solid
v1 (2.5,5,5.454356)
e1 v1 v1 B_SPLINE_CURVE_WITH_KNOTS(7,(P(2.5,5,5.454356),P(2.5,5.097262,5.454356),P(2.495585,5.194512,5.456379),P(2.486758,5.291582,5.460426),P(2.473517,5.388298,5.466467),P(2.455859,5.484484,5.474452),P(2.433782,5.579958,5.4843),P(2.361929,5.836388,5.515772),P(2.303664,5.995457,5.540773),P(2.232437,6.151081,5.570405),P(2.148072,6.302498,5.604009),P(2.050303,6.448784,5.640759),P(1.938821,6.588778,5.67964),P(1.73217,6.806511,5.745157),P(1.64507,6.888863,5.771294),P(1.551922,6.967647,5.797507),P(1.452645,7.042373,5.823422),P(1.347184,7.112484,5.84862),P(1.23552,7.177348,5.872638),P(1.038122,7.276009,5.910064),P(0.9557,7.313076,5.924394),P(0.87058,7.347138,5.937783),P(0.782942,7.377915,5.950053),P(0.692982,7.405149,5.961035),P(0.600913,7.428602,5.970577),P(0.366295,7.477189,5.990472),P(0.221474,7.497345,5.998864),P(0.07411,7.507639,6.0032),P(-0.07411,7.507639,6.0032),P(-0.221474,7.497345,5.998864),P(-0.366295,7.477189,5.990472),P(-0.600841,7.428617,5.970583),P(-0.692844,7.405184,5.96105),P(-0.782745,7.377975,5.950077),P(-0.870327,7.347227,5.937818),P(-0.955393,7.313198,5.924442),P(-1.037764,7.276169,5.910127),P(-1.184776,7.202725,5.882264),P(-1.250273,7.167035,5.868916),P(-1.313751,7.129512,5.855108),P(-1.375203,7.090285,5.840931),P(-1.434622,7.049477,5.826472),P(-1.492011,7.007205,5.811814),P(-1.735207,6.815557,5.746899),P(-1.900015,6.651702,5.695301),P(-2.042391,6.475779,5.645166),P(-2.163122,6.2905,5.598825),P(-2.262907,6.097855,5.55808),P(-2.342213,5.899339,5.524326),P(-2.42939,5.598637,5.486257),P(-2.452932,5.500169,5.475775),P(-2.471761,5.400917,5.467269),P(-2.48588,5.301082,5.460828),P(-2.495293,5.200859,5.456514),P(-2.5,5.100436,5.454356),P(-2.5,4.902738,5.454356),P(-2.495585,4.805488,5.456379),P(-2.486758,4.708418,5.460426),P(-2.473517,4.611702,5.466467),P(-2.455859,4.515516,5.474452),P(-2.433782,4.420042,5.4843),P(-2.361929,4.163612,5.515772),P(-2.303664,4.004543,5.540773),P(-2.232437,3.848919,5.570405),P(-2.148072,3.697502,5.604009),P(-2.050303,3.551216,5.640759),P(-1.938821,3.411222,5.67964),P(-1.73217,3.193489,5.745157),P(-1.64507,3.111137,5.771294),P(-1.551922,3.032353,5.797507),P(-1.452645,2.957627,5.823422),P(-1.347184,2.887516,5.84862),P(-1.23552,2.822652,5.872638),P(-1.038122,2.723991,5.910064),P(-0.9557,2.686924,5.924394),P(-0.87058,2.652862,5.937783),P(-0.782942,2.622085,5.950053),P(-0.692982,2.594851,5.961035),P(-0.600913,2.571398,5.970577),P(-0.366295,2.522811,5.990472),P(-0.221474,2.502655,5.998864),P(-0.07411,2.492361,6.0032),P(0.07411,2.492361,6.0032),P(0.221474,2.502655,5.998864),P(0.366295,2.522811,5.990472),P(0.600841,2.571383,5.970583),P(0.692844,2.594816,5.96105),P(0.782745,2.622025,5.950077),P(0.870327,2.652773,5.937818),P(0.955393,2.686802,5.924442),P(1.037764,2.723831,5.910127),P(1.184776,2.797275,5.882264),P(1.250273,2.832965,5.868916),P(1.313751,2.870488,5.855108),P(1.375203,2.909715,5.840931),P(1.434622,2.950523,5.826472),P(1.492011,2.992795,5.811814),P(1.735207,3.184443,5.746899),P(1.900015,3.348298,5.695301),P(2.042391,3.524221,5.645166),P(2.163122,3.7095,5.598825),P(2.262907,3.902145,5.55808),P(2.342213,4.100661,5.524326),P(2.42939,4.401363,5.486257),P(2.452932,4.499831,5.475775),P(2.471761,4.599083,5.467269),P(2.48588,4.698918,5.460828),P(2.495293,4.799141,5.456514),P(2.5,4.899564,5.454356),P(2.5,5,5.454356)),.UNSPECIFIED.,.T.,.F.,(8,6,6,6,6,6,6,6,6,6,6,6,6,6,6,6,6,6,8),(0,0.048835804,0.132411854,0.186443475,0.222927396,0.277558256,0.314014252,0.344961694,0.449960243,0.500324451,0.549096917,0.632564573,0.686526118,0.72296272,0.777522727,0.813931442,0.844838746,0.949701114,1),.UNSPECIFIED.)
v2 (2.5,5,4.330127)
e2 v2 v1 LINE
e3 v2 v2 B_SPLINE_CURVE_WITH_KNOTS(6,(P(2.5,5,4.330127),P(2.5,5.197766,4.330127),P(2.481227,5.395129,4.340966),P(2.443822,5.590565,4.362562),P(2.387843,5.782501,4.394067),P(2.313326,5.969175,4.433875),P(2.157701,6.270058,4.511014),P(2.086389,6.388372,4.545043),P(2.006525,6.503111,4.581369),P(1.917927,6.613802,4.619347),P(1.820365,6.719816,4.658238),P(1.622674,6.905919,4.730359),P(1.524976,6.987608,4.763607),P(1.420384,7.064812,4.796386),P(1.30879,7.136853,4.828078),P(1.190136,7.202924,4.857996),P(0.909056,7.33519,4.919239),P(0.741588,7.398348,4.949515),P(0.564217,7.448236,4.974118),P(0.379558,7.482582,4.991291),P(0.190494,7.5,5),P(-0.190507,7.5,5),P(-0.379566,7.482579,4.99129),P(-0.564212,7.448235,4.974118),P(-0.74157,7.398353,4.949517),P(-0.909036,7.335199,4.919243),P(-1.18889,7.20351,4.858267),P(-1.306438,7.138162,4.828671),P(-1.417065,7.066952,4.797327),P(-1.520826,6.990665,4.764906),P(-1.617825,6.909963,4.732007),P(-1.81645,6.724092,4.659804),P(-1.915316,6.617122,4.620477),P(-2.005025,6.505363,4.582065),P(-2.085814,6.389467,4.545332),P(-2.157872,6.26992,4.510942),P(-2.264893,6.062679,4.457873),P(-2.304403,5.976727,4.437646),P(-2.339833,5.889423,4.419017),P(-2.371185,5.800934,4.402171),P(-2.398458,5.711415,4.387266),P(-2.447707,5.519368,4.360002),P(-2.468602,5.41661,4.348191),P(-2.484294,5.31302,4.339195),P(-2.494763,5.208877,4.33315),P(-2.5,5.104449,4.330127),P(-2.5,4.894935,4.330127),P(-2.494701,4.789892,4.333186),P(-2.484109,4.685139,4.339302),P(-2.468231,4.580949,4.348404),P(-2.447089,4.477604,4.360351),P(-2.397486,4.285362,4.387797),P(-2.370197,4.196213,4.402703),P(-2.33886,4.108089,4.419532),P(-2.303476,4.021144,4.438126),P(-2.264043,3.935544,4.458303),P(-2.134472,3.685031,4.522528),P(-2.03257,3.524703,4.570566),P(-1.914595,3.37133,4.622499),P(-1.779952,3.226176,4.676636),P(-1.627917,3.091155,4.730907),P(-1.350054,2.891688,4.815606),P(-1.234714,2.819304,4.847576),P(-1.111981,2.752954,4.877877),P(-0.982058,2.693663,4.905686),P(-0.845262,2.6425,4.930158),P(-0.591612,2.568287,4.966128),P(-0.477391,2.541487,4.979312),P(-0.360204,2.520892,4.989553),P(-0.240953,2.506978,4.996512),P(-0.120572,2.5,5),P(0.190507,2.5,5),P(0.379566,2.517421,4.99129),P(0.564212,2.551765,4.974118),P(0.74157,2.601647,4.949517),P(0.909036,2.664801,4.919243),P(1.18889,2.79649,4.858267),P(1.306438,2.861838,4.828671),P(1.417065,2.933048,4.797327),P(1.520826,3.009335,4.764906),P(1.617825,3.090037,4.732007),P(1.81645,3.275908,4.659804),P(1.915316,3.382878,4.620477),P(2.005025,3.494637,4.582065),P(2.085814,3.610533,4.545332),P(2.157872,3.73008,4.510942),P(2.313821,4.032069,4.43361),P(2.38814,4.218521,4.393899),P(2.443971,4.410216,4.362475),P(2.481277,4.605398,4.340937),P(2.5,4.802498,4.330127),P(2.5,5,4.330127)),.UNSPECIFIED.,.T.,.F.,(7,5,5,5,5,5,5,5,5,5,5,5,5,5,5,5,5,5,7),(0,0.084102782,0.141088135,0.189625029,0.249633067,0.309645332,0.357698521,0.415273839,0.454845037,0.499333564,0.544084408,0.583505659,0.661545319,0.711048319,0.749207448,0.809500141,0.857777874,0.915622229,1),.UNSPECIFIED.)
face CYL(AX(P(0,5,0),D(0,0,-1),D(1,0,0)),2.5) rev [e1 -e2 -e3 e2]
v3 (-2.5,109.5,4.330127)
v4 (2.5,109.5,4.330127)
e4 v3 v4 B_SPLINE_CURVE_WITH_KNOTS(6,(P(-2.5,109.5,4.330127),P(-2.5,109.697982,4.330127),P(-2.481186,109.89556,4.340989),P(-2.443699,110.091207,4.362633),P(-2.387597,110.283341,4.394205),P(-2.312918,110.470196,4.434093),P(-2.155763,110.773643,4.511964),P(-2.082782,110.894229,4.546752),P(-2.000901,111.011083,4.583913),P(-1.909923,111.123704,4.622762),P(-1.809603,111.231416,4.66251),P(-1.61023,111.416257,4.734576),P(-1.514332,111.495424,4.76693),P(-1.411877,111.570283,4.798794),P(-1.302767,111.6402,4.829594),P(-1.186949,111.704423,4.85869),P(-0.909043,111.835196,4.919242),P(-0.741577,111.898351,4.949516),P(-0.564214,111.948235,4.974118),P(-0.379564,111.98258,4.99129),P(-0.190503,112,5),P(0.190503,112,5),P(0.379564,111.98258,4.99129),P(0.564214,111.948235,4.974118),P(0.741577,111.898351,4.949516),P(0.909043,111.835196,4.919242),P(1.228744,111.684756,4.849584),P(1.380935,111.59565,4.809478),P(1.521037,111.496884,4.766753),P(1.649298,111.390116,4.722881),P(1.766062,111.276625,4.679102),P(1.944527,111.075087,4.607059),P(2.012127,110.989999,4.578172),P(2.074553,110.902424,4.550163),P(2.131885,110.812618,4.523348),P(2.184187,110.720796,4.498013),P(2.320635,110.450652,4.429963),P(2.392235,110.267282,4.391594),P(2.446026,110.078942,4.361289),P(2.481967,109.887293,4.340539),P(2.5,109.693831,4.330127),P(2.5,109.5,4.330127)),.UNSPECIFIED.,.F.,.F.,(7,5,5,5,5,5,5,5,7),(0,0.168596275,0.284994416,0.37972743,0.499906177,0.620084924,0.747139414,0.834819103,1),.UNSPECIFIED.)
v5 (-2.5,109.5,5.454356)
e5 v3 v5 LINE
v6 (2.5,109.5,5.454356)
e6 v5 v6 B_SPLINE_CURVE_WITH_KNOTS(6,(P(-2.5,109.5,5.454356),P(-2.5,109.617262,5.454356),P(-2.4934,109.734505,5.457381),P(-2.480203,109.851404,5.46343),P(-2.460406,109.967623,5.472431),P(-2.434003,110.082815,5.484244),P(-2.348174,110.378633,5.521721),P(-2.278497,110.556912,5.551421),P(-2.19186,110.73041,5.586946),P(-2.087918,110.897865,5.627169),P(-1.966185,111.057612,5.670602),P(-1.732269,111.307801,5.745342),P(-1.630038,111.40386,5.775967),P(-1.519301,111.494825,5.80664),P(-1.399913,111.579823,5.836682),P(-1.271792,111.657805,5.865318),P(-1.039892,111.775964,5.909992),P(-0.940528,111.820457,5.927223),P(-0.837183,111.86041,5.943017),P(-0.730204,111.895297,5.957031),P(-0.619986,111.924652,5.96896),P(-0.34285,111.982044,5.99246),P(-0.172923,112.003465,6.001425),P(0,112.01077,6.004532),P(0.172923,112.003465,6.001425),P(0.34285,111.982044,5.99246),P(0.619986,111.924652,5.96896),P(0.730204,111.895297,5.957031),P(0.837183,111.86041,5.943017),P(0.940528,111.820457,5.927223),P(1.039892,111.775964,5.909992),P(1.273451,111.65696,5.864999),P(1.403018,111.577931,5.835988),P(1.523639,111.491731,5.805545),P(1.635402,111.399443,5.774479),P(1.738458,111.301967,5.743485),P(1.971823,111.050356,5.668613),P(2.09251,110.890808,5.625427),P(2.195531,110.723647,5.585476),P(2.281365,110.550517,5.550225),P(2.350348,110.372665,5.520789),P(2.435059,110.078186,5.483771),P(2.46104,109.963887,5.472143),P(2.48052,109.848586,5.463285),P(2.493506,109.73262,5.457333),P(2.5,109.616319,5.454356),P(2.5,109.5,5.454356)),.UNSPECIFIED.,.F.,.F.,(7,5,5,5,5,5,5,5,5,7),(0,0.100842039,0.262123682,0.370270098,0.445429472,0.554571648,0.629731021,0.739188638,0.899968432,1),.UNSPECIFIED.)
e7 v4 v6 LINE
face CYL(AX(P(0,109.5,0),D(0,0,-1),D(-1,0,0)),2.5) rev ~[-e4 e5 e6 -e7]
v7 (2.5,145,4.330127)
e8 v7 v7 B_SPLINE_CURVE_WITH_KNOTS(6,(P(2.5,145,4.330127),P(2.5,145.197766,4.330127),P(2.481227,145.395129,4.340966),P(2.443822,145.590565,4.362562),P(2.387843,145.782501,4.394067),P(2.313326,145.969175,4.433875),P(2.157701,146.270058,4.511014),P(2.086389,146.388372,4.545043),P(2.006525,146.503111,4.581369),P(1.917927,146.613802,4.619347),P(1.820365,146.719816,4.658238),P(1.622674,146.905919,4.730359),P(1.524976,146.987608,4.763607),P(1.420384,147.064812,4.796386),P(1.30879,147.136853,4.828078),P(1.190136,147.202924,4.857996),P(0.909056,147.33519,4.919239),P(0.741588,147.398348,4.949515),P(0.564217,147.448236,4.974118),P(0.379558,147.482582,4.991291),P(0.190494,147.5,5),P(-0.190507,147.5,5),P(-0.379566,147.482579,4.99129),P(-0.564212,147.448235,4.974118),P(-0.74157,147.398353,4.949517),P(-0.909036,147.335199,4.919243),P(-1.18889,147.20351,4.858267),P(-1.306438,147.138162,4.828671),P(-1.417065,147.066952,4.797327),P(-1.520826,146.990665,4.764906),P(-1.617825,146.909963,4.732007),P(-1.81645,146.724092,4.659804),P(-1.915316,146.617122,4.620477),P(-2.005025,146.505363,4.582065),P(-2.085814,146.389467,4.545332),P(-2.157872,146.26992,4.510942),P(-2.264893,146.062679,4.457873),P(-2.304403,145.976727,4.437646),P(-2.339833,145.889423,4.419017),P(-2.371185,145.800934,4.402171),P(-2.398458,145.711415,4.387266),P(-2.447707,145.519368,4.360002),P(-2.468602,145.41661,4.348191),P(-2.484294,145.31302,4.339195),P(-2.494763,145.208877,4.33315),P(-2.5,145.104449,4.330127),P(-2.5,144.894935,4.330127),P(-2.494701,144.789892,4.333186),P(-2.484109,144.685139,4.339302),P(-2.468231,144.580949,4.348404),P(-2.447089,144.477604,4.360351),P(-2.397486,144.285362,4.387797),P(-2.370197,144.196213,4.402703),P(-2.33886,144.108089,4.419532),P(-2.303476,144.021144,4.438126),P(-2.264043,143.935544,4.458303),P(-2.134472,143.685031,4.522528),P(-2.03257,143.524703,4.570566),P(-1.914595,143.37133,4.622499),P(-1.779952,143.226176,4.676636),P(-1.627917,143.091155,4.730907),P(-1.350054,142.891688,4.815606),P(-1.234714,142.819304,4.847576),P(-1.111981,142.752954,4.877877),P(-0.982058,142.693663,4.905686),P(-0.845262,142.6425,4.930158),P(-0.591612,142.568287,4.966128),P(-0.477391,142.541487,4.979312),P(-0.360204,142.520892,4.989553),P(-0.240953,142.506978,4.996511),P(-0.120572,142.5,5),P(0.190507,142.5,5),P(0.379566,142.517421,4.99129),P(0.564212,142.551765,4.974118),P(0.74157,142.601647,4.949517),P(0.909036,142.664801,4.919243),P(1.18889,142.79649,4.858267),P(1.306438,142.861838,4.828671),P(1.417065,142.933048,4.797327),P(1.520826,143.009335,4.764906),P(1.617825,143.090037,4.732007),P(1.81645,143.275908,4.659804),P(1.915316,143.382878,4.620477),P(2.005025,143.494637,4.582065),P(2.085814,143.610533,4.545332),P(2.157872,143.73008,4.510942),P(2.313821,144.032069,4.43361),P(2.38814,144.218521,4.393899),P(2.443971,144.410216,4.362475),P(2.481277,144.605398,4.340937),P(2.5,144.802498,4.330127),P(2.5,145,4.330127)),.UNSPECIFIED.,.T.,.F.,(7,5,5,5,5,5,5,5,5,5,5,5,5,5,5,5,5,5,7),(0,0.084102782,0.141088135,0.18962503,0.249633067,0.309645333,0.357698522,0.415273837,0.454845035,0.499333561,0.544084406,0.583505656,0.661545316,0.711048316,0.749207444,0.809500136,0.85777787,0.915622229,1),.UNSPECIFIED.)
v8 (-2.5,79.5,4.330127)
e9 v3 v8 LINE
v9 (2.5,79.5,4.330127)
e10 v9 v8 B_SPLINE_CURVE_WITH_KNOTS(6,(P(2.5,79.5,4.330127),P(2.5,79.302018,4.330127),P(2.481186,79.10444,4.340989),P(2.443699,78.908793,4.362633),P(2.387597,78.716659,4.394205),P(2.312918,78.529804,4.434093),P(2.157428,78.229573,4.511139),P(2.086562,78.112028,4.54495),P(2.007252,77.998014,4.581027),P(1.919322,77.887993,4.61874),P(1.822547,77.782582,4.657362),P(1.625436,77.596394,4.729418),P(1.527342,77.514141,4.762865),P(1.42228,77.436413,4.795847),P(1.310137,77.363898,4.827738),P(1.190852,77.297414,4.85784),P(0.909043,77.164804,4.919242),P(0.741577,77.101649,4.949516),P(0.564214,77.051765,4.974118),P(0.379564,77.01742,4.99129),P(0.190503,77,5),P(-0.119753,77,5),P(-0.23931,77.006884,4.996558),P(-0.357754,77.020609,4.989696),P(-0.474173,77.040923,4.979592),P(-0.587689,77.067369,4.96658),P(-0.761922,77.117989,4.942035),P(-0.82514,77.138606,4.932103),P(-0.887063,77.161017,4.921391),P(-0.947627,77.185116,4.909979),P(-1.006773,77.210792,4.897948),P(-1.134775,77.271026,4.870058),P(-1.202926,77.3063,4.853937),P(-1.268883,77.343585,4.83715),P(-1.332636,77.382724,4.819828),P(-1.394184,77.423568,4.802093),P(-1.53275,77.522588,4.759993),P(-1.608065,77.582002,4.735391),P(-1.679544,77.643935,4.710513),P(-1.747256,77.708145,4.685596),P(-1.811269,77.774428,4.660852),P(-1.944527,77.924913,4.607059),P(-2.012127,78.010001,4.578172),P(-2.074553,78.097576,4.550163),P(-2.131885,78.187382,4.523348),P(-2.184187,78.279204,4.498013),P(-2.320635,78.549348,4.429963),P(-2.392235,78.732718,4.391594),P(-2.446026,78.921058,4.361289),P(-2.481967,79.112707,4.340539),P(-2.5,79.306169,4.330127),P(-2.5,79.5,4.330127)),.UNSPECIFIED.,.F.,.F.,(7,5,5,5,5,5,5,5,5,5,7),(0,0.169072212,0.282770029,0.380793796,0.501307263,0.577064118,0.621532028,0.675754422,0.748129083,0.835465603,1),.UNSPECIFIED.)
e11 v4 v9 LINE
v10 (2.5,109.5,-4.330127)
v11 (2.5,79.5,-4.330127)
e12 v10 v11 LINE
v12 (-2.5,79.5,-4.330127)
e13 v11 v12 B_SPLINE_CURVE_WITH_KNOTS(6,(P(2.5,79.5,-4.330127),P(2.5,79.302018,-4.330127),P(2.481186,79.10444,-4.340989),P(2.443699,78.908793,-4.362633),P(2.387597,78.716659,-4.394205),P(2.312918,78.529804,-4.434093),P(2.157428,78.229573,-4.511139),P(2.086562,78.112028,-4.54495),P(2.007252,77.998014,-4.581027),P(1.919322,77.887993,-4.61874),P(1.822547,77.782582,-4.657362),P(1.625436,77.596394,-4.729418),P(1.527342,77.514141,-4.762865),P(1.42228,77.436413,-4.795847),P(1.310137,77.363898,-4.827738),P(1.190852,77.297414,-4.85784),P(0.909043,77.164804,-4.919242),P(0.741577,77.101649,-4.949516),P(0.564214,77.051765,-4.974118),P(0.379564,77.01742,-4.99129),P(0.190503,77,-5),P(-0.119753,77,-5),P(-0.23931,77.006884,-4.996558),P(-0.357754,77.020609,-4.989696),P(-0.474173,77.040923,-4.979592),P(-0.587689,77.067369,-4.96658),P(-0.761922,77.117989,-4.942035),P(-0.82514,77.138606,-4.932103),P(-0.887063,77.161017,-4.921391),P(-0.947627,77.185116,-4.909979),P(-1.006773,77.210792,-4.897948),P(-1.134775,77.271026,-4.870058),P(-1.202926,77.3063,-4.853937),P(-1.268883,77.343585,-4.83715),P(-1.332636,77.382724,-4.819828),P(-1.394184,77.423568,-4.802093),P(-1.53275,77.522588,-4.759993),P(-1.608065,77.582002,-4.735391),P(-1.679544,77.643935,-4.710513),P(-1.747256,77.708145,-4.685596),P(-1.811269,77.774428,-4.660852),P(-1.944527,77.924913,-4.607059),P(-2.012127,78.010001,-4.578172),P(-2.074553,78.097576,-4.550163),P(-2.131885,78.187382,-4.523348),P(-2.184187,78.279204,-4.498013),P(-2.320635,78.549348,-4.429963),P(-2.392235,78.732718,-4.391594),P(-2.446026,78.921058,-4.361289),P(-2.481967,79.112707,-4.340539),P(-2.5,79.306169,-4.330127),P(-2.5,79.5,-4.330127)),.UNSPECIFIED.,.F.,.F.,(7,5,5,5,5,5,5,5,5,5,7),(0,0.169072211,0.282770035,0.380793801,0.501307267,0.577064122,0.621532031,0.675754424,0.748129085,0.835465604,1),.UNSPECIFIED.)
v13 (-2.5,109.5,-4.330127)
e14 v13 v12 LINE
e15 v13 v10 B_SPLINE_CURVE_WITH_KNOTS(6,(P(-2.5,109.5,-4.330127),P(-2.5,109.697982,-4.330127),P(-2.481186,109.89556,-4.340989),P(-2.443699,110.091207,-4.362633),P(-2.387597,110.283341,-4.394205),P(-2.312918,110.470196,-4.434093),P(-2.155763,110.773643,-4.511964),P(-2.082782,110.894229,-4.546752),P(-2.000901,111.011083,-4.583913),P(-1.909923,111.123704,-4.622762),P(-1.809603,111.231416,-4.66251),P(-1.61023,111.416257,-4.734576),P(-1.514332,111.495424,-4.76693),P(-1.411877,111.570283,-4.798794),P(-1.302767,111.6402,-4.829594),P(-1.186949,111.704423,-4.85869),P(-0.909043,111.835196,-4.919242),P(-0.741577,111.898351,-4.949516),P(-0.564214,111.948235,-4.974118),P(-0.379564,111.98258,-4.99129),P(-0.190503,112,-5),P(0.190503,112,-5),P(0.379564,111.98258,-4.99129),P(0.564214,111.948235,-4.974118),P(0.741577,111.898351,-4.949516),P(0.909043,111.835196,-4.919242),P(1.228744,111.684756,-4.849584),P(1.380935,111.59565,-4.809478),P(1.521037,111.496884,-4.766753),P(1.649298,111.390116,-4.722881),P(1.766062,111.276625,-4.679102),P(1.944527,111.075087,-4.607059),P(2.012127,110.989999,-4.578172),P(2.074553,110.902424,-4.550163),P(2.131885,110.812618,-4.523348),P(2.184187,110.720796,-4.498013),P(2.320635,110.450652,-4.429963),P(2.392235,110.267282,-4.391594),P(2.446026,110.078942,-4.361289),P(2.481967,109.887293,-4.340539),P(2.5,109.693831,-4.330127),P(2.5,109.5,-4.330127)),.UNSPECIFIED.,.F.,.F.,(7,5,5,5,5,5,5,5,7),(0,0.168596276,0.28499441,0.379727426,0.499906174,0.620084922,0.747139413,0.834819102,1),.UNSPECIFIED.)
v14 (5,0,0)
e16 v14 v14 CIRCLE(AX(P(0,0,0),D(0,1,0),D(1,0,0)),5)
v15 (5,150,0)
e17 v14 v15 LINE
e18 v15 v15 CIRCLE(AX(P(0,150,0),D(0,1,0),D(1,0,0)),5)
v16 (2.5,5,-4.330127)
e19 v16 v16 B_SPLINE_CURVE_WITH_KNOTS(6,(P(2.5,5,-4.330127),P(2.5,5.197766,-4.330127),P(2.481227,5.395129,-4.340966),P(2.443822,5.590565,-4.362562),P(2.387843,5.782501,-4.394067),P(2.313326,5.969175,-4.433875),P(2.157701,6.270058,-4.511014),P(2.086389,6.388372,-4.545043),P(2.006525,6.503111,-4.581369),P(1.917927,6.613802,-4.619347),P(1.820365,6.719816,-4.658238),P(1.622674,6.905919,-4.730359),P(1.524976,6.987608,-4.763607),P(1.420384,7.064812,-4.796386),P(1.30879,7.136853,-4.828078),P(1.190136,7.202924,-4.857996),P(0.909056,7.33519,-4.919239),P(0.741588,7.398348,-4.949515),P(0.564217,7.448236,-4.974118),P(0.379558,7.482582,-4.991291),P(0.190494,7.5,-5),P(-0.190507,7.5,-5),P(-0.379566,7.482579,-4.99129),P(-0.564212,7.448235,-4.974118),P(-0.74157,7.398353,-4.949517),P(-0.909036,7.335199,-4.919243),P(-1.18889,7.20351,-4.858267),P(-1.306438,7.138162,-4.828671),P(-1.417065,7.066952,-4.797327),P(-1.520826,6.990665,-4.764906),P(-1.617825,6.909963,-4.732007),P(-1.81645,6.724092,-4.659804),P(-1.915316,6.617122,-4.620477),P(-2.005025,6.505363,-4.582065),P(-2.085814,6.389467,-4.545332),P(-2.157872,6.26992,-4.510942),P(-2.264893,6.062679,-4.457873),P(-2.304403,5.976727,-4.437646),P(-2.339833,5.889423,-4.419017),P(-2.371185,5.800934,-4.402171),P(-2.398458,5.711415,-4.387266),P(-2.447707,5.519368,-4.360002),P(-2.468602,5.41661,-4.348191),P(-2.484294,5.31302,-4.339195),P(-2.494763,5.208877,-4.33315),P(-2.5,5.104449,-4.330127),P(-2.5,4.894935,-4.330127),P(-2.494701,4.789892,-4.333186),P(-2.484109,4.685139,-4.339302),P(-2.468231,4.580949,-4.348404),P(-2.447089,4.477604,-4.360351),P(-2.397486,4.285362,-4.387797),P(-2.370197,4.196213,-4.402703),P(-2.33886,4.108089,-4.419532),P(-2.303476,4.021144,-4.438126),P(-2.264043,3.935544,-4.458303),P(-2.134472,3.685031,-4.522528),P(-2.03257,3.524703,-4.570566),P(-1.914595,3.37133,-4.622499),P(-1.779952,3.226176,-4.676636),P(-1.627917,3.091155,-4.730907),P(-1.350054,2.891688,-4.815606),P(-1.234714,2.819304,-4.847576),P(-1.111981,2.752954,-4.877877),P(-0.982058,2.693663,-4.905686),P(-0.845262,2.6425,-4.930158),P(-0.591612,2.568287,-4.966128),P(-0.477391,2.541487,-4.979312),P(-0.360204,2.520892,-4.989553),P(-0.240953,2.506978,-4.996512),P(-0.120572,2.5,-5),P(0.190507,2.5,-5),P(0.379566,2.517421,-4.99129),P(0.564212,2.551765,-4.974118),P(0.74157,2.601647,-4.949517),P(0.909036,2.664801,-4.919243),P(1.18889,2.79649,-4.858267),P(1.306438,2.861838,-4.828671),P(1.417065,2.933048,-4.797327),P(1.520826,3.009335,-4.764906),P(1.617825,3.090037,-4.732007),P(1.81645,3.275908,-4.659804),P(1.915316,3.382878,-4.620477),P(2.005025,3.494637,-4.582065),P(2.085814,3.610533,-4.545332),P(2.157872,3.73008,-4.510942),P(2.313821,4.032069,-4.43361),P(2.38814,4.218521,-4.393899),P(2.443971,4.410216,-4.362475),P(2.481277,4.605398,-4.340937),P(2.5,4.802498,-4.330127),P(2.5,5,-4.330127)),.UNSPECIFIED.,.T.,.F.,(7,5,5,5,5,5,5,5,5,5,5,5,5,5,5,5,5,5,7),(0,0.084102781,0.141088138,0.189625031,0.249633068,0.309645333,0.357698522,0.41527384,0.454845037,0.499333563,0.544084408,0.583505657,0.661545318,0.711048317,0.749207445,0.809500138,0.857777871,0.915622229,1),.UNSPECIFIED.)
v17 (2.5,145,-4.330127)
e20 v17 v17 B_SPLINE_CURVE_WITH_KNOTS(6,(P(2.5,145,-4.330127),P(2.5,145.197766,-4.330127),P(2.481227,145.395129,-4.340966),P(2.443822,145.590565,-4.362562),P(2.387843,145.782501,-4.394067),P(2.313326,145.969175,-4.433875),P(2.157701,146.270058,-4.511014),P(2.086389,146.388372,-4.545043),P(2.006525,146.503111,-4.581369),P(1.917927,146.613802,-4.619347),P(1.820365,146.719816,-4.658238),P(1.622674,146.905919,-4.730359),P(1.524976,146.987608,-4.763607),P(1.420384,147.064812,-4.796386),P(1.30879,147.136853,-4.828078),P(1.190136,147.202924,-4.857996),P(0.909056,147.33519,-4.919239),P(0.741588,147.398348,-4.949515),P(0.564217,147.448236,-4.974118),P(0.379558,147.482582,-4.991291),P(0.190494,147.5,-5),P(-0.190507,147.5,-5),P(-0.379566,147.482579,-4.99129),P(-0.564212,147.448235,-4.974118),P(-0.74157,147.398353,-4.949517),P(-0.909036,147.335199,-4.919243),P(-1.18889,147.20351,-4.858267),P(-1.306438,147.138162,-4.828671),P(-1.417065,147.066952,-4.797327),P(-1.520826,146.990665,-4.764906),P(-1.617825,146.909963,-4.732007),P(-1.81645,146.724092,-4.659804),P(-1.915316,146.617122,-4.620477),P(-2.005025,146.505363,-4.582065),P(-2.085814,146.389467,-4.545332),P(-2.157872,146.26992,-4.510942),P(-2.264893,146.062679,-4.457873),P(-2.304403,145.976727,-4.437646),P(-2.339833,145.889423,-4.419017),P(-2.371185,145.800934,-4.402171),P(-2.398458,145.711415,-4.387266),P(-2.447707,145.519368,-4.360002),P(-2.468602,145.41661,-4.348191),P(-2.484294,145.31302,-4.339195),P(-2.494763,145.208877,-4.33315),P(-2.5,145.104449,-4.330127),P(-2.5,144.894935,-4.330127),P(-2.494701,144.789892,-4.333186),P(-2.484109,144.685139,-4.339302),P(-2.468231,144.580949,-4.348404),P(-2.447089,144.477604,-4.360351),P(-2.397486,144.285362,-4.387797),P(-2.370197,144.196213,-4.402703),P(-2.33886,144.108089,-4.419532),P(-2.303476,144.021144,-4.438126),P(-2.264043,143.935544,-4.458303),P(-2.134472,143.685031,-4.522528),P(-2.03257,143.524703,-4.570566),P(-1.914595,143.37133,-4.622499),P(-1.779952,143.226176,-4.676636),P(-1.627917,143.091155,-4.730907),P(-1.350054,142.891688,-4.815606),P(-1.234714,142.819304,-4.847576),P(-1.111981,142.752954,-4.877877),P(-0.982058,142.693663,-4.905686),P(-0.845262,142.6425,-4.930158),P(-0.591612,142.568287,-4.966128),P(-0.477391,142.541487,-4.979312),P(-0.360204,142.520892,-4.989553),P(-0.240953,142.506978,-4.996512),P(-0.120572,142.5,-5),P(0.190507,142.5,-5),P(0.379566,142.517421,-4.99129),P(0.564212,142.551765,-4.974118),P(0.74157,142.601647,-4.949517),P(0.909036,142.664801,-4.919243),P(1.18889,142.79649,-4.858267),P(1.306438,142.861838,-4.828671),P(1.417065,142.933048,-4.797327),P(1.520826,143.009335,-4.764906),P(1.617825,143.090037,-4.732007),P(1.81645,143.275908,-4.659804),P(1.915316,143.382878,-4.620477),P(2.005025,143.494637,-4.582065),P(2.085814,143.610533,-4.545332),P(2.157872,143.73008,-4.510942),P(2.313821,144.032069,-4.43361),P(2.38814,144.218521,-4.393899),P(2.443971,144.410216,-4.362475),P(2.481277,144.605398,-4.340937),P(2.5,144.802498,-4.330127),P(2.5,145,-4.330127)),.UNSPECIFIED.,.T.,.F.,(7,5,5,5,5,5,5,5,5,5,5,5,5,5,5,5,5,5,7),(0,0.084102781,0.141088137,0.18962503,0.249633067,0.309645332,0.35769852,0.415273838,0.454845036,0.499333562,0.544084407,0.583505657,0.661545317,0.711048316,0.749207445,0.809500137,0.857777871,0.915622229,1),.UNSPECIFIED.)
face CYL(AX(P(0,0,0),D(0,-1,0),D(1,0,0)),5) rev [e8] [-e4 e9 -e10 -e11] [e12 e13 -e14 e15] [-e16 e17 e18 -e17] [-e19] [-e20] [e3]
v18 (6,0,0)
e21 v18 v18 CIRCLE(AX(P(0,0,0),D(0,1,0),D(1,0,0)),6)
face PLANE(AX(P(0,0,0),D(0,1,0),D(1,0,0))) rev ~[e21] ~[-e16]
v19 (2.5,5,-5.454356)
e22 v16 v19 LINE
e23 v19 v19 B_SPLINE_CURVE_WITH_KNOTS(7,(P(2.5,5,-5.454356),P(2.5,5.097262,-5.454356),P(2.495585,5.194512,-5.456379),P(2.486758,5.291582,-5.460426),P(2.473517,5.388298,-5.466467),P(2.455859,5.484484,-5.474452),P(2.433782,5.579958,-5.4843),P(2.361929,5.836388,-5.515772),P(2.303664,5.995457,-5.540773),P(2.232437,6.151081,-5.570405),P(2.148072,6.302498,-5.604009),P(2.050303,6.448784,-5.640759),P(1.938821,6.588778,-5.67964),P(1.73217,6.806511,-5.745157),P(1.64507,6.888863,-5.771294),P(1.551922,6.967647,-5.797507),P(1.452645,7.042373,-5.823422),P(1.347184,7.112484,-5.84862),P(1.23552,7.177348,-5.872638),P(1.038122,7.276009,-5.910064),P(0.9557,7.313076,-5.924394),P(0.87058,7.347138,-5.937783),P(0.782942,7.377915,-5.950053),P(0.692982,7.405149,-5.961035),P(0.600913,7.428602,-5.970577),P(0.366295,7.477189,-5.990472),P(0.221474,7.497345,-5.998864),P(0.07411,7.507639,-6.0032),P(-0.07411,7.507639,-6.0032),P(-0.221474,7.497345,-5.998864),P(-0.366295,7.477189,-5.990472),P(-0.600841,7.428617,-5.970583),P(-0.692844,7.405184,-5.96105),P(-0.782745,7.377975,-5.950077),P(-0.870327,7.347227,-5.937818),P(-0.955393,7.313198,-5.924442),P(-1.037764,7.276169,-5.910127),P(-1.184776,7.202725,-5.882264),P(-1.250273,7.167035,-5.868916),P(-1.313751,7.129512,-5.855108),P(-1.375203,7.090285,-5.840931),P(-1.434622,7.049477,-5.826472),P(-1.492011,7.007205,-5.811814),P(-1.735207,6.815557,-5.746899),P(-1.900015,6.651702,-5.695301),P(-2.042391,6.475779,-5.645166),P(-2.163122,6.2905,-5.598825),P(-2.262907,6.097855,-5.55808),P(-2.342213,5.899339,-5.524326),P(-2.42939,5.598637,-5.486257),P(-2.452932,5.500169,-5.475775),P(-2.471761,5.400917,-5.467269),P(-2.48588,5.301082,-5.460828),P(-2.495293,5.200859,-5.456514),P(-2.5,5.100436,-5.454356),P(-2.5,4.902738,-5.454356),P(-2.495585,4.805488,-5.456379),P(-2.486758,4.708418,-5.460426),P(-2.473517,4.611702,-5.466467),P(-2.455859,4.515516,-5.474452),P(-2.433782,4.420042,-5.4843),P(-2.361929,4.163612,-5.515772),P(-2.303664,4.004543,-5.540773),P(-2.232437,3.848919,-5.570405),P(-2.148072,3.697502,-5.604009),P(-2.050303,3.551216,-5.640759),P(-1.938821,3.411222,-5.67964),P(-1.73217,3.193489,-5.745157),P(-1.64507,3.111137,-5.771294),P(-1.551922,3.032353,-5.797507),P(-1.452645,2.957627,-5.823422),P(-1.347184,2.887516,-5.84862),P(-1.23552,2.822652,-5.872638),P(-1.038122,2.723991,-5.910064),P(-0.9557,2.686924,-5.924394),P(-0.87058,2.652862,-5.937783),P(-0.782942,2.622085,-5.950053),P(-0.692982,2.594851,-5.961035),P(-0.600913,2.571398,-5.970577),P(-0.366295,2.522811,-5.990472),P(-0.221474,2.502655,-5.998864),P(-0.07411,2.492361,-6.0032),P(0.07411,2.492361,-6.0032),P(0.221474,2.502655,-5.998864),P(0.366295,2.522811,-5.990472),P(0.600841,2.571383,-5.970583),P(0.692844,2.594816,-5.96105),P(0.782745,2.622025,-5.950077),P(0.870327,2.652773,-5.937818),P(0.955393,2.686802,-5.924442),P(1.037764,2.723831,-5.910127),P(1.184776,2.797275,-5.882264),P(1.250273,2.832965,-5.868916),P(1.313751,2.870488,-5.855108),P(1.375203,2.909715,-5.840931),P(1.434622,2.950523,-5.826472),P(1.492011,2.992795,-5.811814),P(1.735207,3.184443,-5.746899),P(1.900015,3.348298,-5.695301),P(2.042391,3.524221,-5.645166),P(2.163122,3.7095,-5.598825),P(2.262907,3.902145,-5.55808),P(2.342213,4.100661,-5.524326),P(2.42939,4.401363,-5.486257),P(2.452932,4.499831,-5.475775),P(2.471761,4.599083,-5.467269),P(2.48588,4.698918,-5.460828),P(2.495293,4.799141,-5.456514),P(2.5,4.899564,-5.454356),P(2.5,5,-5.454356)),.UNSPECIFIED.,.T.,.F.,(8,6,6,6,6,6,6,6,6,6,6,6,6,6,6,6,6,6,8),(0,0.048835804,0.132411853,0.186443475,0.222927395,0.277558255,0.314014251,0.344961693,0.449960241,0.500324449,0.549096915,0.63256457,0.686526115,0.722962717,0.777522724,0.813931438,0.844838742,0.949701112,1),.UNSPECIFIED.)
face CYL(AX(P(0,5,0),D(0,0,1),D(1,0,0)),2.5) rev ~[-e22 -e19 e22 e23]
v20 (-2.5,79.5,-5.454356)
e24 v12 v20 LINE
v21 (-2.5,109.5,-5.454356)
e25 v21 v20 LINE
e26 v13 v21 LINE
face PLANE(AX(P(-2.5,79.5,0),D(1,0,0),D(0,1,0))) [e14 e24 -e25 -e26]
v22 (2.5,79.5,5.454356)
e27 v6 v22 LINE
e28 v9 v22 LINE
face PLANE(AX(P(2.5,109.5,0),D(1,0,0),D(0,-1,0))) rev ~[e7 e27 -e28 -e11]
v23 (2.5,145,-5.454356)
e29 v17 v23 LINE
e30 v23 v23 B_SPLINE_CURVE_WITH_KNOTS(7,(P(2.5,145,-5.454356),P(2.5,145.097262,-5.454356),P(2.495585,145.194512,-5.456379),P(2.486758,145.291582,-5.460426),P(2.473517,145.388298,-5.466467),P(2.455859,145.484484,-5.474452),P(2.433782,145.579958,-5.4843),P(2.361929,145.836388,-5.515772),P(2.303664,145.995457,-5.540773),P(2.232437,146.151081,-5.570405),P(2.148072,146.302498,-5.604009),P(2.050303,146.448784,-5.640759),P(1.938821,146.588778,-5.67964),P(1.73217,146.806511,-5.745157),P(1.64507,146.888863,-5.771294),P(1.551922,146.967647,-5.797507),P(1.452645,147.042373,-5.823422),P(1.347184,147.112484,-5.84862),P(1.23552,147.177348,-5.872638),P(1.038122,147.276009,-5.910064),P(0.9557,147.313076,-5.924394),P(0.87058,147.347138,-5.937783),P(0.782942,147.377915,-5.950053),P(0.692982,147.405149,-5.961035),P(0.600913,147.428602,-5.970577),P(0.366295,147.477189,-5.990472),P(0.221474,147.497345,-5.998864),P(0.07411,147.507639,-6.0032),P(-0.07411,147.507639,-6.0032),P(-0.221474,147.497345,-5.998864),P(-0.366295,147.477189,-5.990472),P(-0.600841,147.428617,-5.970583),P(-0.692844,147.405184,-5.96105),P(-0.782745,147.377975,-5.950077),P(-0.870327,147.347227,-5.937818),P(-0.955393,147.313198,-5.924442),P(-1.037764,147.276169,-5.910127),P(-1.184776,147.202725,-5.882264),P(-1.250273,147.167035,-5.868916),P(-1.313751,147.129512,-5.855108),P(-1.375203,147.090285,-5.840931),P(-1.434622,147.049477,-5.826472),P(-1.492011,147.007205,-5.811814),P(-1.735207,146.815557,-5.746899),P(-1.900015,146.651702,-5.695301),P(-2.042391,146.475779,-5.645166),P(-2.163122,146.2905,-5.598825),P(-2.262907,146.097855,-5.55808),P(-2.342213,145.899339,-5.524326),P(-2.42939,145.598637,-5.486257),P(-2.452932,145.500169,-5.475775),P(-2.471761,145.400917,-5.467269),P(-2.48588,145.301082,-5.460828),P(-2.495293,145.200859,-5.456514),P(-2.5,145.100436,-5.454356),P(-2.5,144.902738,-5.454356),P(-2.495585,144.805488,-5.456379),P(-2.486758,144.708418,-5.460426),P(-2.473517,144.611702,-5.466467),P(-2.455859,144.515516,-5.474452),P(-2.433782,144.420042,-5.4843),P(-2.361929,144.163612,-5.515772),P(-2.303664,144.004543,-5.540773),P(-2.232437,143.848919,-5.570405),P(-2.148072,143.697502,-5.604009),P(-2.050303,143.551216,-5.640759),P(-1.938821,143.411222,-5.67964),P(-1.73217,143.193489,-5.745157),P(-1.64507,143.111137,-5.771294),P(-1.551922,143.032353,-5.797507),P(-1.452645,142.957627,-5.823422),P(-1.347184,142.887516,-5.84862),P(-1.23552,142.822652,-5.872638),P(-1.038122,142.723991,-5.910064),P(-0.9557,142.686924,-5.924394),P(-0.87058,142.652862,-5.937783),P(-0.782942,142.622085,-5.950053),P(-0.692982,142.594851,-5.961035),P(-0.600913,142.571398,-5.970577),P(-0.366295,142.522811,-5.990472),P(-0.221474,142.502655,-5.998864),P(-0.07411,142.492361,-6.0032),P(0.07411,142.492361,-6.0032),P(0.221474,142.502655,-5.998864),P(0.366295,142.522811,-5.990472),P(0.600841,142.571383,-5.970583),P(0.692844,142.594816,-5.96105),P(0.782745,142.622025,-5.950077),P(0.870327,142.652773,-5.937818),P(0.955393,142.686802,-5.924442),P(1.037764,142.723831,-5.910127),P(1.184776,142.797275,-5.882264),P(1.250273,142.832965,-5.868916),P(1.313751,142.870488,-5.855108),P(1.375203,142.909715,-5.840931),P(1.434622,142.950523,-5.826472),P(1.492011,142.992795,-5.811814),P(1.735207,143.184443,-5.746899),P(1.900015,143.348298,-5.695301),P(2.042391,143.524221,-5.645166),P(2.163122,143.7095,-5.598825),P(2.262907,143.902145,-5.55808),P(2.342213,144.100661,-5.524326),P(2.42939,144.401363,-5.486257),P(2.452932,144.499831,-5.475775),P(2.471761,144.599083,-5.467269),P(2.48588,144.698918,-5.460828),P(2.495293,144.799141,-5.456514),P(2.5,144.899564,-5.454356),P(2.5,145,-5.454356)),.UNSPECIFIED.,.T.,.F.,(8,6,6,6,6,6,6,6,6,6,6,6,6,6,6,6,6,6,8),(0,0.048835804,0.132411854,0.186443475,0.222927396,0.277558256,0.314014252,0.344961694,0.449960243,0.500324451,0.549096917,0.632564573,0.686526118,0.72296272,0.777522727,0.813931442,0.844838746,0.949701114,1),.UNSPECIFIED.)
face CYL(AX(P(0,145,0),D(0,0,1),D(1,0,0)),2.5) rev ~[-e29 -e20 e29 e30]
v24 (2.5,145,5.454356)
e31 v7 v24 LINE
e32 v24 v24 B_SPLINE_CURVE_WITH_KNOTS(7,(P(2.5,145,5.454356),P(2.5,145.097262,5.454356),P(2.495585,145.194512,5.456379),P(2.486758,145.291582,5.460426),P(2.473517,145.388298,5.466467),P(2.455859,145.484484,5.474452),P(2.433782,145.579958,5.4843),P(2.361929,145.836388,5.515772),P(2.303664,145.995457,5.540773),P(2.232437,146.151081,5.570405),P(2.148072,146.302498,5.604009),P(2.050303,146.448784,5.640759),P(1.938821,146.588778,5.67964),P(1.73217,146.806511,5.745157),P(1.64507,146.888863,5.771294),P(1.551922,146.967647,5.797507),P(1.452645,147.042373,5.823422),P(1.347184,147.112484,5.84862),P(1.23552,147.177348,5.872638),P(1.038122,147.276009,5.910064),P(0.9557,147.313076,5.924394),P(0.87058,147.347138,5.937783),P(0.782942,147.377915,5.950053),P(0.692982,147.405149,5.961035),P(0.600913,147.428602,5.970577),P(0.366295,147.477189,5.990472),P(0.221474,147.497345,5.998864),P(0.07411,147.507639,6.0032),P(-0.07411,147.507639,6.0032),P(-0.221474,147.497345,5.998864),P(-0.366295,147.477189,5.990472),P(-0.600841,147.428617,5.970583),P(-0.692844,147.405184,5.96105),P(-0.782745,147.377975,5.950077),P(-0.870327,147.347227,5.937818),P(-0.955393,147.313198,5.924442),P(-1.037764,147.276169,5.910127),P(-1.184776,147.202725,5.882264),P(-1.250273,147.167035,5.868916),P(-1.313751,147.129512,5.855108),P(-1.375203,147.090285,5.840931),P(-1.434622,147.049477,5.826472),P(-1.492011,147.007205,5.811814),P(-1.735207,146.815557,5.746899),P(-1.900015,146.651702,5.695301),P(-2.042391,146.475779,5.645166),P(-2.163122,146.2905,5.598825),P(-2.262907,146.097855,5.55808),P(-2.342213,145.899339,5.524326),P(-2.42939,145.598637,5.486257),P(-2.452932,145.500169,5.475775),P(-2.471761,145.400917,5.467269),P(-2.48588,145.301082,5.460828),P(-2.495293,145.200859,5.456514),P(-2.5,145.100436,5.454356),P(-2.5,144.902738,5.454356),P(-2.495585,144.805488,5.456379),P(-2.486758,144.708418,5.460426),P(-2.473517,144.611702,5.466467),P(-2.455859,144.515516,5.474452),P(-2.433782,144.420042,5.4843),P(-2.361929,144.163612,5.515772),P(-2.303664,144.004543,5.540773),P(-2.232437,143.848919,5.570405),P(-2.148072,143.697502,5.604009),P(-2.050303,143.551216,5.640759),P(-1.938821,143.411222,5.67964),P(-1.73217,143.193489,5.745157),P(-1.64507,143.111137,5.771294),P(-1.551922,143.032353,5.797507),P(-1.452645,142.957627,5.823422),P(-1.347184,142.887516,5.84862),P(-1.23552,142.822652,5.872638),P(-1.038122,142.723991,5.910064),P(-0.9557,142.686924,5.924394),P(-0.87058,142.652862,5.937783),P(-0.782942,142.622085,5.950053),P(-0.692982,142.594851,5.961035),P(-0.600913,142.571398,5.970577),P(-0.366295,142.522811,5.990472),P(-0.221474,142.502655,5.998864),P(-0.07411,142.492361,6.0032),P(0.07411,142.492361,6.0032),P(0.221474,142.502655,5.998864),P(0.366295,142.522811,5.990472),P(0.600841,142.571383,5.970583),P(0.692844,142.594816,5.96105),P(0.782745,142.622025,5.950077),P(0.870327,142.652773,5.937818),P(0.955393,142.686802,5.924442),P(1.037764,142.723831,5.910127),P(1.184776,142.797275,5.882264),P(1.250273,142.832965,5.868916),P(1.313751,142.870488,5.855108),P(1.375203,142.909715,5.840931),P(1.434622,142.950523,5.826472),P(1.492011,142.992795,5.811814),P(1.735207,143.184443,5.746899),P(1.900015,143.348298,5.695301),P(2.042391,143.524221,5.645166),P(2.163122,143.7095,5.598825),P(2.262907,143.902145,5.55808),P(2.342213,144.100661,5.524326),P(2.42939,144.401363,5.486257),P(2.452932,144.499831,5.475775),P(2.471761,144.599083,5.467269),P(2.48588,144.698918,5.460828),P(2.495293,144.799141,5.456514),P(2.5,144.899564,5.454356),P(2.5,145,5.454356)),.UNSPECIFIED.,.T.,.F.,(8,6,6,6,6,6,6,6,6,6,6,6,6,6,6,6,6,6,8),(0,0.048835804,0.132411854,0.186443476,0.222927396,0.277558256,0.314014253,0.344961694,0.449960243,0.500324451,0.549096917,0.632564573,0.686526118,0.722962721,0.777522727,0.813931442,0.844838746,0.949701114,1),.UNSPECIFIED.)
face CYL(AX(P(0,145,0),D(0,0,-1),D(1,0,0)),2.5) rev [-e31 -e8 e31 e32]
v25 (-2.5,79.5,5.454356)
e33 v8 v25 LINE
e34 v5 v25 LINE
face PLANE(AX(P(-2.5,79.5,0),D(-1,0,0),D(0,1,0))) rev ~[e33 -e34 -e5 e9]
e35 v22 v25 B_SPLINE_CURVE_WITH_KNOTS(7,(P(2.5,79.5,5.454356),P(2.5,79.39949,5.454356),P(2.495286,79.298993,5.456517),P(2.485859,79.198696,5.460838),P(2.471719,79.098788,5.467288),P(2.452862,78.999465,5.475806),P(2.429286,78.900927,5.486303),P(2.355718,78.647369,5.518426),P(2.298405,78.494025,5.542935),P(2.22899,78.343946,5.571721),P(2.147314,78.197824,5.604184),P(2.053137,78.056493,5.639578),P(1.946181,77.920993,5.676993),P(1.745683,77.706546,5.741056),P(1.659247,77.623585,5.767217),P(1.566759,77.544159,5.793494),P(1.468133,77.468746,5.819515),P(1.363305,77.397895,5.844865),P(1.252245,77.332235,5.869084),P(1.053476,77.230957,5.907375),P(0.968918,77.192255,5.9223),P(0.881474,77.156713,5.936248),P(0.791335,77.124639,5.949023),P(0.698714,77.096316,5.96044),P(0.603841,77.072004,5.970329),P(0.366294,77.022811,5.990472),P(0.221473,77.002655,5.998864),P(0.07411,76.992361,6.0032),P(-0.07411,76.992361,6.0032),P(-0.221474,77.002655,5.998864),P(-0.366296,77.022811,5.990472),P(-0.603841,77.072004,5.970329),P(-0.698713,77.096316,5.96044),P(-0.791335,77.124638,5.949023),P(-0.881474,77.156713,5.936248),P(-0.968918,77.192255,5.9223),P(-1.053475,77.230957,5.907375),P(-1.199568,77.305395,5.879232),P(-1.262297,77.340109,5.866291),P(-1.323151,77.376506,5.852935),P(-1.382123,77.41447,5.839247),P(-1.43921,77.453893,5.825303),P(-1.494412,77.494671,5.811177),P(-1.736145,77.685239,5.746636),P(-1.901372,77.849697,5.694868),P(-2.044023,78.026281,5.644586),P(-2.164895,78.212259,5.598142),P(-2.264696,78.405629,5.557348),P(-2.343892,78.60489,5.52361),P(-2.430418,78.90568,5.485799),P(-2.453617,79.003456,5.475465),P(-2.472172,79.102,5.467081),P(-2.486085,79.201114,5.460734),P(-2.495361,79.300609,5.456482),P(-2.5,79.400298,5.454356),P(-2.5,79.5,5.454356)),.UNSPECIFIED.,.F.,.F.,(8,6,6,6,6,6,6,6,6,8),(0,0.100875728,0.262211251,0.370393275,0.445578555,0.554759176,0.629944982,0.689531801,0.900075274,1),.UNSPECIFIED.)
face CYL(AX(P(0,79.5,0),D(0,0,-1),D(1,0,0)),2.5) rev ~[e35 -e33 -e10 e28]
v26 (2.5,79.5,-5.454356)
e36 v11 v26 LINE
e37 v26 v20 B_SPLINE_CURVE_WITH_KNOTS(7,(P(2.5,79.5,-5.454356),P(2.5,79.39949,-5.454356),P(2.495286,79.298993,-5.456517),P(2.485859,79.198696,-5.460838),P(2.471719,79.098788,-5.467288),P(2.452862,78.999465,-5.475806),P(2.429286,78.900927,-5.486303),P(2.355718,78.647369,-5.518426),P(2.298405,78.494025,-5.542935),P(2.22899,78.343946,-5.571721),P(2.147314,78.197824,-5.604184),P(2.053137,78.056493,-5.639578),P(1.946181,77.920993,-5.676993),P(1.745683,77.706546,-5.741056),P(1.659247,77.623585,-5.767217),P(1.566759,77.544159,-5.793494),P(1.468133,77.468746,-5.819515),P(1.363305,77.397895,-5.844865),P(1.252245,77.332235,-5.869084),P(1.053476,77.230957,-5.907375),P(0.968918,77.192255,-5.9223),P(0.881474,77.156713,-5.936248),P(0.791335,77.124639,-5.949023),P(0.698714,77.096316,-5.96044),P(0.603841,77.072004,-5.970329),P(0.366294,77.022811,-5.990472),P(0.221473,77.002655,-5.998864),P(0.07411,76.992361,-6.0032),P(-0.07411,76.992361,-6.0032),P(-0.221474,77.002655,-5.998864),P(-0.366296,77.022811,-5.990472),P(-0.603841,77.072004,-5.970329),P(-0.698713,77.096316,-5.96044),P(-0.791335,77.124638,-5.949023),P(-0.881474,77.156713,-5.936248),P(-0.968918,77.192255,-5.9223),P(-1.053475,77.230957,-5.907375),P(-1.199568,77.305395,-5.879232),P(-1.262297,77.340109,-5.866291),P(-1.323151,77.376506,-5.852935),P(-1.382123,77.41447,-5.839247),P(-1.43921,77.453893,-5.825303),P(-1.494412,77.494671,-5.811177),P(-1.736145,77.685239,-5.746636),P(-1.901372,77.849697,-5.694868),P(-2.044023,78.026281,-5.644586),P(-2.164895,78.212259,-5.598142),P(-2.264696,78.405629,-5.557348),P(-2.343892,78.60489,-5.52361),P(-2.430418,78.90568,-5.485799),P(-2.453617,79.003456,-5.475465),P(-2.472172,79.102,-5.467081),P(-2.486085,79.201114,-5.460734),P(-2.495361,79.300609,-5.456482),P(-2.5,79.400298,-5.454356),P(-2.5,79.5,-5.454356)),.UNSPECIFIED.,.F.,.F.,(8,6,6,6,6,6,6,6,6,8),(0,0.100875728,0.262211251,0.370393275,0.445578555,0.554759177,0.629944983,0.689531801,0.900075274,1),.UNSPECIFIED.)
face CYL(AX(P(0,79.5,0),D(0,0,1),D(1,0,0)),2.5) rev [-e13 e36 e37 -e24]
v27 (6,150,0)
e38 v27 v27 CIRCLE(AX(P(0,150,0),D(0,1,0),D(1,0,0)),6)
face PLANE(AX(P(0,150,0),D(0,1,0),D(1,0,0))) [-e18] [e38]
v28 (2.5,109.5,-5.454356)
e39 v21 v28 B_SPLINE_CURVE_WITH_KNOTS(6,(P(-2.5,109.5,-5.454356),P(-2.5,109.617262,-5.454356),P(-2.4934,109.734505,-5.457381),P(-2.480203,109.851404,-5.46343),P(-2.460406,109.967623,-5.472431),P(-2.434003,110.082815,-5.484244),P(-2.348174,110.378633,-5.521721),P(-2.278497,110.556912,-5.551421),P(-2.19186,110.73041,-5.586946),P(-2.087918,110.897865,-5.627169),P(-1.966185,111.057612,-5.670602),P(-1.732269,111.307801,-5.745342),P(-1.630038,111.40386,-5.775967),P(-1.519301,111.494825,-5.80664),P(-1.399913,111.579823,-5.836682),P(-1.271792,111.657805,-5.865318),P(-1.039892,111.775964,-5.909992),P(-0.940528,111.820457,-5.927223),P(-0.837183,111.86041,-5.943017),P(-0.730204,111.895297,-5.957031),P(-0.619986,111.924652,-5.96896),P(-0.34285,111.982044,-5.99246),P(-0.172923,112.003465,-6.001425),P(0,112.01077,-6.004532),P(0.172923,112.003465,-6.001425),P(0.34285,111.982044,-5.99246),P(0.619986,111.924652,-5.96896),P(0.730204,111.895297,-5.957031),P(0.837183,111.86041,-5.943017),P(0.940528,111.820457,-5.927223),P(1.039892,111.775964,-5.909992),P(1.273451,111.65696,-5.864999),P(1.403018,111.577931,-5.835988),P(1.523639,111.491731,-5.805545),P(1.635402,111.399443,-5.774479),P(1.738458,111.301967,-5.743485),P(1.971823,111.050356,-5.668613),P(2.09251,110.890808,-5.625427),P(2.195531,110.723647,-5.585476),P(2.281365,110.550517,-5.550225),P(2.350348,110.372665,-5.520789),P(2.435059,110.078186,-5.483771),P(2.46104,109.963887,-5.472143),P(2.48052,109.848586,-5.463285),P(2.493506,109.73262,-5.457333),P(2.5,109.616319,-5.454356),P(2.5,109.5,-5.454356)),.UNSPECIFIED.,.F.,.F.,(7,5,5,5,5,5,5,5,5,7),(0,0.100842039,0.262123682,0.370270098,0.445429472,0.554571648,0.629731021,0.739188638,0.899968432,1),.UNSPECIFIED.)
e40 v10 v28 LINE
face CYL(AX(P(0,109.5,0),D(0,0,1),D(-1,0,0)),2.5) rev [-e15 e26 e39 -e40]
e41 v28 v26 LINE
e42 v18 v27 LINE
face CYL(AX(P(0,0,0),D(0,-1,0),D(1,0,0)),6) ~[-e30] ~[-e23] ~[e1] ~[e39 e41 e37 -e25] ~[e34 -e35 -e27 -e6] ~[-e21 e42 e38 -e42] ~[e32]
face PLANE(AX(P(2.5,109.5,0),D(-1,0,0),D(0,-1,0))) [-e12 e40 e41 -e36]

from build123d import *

# Parameters (mm, degrees)
SZKIC1_R                        = 6
SZKIC1_R_2                      = 5
DODANIE_WYCI_GNI_CIE1_DEPTH     = 150
SZKIC3_R                        = 2.5
WYTNIJ_WYCI_GNI_CIE2_DEPTH      = 7
WYTNIJ_WYCI_GNI_CIE2_DEPTH_BACK = 7


with BuildPart() as part:
    # Szkic1 → Dodanie-wyciągnięcie1 (new body)
    with BuildSketch(Plane(origin=(0, 0, 0), x_dir=(1, 0, 0), z_dir=(0, 1, 0))):
        Circle(SZKIC1_R)
        Circle(SZKIC1_R_2, mode=Mode.SUBTRACT)
    extrude(amount=DODANIE_WYCI_GNI_CIE1_DEPTH)

    # Szkic3 → Wytnij-wyciągnięcie2 (cut, two sides)
    with BuildSketch(Plane.XY) as wytnij_wyci_gni_cie2_sk:
        with Locations((0, 145)):
            Circle(SZKIC3_R)
        with Locations((0, 5)):
            Circle(SZKIC3_R)
        with BuildLine():
            Line((-2.5, 79.5), (-2.5, 109.5))
            ThreePointArc((-2.5, 109.5), (0, 112), (2.5, 109.5))
            Line((2.5, 109.5), (2.5, 79.5))
            ThreePointArc((2.5, 79.5), (0, 77), (-2.5, 79.5))
        make_face()
    extrude(amount=WYTNIJ_WYCI_GNI_CIE2_DEPTH, mode=Mode.SUBTRACT)
    extrude(wytnij_wyci_gni_cie2_sk.sketch, amount=-WYTNIJ_WYCI_GNI_CIE2_DEPTH_BACK, mode=Mode.SUBTRACT)


solid = part.part
